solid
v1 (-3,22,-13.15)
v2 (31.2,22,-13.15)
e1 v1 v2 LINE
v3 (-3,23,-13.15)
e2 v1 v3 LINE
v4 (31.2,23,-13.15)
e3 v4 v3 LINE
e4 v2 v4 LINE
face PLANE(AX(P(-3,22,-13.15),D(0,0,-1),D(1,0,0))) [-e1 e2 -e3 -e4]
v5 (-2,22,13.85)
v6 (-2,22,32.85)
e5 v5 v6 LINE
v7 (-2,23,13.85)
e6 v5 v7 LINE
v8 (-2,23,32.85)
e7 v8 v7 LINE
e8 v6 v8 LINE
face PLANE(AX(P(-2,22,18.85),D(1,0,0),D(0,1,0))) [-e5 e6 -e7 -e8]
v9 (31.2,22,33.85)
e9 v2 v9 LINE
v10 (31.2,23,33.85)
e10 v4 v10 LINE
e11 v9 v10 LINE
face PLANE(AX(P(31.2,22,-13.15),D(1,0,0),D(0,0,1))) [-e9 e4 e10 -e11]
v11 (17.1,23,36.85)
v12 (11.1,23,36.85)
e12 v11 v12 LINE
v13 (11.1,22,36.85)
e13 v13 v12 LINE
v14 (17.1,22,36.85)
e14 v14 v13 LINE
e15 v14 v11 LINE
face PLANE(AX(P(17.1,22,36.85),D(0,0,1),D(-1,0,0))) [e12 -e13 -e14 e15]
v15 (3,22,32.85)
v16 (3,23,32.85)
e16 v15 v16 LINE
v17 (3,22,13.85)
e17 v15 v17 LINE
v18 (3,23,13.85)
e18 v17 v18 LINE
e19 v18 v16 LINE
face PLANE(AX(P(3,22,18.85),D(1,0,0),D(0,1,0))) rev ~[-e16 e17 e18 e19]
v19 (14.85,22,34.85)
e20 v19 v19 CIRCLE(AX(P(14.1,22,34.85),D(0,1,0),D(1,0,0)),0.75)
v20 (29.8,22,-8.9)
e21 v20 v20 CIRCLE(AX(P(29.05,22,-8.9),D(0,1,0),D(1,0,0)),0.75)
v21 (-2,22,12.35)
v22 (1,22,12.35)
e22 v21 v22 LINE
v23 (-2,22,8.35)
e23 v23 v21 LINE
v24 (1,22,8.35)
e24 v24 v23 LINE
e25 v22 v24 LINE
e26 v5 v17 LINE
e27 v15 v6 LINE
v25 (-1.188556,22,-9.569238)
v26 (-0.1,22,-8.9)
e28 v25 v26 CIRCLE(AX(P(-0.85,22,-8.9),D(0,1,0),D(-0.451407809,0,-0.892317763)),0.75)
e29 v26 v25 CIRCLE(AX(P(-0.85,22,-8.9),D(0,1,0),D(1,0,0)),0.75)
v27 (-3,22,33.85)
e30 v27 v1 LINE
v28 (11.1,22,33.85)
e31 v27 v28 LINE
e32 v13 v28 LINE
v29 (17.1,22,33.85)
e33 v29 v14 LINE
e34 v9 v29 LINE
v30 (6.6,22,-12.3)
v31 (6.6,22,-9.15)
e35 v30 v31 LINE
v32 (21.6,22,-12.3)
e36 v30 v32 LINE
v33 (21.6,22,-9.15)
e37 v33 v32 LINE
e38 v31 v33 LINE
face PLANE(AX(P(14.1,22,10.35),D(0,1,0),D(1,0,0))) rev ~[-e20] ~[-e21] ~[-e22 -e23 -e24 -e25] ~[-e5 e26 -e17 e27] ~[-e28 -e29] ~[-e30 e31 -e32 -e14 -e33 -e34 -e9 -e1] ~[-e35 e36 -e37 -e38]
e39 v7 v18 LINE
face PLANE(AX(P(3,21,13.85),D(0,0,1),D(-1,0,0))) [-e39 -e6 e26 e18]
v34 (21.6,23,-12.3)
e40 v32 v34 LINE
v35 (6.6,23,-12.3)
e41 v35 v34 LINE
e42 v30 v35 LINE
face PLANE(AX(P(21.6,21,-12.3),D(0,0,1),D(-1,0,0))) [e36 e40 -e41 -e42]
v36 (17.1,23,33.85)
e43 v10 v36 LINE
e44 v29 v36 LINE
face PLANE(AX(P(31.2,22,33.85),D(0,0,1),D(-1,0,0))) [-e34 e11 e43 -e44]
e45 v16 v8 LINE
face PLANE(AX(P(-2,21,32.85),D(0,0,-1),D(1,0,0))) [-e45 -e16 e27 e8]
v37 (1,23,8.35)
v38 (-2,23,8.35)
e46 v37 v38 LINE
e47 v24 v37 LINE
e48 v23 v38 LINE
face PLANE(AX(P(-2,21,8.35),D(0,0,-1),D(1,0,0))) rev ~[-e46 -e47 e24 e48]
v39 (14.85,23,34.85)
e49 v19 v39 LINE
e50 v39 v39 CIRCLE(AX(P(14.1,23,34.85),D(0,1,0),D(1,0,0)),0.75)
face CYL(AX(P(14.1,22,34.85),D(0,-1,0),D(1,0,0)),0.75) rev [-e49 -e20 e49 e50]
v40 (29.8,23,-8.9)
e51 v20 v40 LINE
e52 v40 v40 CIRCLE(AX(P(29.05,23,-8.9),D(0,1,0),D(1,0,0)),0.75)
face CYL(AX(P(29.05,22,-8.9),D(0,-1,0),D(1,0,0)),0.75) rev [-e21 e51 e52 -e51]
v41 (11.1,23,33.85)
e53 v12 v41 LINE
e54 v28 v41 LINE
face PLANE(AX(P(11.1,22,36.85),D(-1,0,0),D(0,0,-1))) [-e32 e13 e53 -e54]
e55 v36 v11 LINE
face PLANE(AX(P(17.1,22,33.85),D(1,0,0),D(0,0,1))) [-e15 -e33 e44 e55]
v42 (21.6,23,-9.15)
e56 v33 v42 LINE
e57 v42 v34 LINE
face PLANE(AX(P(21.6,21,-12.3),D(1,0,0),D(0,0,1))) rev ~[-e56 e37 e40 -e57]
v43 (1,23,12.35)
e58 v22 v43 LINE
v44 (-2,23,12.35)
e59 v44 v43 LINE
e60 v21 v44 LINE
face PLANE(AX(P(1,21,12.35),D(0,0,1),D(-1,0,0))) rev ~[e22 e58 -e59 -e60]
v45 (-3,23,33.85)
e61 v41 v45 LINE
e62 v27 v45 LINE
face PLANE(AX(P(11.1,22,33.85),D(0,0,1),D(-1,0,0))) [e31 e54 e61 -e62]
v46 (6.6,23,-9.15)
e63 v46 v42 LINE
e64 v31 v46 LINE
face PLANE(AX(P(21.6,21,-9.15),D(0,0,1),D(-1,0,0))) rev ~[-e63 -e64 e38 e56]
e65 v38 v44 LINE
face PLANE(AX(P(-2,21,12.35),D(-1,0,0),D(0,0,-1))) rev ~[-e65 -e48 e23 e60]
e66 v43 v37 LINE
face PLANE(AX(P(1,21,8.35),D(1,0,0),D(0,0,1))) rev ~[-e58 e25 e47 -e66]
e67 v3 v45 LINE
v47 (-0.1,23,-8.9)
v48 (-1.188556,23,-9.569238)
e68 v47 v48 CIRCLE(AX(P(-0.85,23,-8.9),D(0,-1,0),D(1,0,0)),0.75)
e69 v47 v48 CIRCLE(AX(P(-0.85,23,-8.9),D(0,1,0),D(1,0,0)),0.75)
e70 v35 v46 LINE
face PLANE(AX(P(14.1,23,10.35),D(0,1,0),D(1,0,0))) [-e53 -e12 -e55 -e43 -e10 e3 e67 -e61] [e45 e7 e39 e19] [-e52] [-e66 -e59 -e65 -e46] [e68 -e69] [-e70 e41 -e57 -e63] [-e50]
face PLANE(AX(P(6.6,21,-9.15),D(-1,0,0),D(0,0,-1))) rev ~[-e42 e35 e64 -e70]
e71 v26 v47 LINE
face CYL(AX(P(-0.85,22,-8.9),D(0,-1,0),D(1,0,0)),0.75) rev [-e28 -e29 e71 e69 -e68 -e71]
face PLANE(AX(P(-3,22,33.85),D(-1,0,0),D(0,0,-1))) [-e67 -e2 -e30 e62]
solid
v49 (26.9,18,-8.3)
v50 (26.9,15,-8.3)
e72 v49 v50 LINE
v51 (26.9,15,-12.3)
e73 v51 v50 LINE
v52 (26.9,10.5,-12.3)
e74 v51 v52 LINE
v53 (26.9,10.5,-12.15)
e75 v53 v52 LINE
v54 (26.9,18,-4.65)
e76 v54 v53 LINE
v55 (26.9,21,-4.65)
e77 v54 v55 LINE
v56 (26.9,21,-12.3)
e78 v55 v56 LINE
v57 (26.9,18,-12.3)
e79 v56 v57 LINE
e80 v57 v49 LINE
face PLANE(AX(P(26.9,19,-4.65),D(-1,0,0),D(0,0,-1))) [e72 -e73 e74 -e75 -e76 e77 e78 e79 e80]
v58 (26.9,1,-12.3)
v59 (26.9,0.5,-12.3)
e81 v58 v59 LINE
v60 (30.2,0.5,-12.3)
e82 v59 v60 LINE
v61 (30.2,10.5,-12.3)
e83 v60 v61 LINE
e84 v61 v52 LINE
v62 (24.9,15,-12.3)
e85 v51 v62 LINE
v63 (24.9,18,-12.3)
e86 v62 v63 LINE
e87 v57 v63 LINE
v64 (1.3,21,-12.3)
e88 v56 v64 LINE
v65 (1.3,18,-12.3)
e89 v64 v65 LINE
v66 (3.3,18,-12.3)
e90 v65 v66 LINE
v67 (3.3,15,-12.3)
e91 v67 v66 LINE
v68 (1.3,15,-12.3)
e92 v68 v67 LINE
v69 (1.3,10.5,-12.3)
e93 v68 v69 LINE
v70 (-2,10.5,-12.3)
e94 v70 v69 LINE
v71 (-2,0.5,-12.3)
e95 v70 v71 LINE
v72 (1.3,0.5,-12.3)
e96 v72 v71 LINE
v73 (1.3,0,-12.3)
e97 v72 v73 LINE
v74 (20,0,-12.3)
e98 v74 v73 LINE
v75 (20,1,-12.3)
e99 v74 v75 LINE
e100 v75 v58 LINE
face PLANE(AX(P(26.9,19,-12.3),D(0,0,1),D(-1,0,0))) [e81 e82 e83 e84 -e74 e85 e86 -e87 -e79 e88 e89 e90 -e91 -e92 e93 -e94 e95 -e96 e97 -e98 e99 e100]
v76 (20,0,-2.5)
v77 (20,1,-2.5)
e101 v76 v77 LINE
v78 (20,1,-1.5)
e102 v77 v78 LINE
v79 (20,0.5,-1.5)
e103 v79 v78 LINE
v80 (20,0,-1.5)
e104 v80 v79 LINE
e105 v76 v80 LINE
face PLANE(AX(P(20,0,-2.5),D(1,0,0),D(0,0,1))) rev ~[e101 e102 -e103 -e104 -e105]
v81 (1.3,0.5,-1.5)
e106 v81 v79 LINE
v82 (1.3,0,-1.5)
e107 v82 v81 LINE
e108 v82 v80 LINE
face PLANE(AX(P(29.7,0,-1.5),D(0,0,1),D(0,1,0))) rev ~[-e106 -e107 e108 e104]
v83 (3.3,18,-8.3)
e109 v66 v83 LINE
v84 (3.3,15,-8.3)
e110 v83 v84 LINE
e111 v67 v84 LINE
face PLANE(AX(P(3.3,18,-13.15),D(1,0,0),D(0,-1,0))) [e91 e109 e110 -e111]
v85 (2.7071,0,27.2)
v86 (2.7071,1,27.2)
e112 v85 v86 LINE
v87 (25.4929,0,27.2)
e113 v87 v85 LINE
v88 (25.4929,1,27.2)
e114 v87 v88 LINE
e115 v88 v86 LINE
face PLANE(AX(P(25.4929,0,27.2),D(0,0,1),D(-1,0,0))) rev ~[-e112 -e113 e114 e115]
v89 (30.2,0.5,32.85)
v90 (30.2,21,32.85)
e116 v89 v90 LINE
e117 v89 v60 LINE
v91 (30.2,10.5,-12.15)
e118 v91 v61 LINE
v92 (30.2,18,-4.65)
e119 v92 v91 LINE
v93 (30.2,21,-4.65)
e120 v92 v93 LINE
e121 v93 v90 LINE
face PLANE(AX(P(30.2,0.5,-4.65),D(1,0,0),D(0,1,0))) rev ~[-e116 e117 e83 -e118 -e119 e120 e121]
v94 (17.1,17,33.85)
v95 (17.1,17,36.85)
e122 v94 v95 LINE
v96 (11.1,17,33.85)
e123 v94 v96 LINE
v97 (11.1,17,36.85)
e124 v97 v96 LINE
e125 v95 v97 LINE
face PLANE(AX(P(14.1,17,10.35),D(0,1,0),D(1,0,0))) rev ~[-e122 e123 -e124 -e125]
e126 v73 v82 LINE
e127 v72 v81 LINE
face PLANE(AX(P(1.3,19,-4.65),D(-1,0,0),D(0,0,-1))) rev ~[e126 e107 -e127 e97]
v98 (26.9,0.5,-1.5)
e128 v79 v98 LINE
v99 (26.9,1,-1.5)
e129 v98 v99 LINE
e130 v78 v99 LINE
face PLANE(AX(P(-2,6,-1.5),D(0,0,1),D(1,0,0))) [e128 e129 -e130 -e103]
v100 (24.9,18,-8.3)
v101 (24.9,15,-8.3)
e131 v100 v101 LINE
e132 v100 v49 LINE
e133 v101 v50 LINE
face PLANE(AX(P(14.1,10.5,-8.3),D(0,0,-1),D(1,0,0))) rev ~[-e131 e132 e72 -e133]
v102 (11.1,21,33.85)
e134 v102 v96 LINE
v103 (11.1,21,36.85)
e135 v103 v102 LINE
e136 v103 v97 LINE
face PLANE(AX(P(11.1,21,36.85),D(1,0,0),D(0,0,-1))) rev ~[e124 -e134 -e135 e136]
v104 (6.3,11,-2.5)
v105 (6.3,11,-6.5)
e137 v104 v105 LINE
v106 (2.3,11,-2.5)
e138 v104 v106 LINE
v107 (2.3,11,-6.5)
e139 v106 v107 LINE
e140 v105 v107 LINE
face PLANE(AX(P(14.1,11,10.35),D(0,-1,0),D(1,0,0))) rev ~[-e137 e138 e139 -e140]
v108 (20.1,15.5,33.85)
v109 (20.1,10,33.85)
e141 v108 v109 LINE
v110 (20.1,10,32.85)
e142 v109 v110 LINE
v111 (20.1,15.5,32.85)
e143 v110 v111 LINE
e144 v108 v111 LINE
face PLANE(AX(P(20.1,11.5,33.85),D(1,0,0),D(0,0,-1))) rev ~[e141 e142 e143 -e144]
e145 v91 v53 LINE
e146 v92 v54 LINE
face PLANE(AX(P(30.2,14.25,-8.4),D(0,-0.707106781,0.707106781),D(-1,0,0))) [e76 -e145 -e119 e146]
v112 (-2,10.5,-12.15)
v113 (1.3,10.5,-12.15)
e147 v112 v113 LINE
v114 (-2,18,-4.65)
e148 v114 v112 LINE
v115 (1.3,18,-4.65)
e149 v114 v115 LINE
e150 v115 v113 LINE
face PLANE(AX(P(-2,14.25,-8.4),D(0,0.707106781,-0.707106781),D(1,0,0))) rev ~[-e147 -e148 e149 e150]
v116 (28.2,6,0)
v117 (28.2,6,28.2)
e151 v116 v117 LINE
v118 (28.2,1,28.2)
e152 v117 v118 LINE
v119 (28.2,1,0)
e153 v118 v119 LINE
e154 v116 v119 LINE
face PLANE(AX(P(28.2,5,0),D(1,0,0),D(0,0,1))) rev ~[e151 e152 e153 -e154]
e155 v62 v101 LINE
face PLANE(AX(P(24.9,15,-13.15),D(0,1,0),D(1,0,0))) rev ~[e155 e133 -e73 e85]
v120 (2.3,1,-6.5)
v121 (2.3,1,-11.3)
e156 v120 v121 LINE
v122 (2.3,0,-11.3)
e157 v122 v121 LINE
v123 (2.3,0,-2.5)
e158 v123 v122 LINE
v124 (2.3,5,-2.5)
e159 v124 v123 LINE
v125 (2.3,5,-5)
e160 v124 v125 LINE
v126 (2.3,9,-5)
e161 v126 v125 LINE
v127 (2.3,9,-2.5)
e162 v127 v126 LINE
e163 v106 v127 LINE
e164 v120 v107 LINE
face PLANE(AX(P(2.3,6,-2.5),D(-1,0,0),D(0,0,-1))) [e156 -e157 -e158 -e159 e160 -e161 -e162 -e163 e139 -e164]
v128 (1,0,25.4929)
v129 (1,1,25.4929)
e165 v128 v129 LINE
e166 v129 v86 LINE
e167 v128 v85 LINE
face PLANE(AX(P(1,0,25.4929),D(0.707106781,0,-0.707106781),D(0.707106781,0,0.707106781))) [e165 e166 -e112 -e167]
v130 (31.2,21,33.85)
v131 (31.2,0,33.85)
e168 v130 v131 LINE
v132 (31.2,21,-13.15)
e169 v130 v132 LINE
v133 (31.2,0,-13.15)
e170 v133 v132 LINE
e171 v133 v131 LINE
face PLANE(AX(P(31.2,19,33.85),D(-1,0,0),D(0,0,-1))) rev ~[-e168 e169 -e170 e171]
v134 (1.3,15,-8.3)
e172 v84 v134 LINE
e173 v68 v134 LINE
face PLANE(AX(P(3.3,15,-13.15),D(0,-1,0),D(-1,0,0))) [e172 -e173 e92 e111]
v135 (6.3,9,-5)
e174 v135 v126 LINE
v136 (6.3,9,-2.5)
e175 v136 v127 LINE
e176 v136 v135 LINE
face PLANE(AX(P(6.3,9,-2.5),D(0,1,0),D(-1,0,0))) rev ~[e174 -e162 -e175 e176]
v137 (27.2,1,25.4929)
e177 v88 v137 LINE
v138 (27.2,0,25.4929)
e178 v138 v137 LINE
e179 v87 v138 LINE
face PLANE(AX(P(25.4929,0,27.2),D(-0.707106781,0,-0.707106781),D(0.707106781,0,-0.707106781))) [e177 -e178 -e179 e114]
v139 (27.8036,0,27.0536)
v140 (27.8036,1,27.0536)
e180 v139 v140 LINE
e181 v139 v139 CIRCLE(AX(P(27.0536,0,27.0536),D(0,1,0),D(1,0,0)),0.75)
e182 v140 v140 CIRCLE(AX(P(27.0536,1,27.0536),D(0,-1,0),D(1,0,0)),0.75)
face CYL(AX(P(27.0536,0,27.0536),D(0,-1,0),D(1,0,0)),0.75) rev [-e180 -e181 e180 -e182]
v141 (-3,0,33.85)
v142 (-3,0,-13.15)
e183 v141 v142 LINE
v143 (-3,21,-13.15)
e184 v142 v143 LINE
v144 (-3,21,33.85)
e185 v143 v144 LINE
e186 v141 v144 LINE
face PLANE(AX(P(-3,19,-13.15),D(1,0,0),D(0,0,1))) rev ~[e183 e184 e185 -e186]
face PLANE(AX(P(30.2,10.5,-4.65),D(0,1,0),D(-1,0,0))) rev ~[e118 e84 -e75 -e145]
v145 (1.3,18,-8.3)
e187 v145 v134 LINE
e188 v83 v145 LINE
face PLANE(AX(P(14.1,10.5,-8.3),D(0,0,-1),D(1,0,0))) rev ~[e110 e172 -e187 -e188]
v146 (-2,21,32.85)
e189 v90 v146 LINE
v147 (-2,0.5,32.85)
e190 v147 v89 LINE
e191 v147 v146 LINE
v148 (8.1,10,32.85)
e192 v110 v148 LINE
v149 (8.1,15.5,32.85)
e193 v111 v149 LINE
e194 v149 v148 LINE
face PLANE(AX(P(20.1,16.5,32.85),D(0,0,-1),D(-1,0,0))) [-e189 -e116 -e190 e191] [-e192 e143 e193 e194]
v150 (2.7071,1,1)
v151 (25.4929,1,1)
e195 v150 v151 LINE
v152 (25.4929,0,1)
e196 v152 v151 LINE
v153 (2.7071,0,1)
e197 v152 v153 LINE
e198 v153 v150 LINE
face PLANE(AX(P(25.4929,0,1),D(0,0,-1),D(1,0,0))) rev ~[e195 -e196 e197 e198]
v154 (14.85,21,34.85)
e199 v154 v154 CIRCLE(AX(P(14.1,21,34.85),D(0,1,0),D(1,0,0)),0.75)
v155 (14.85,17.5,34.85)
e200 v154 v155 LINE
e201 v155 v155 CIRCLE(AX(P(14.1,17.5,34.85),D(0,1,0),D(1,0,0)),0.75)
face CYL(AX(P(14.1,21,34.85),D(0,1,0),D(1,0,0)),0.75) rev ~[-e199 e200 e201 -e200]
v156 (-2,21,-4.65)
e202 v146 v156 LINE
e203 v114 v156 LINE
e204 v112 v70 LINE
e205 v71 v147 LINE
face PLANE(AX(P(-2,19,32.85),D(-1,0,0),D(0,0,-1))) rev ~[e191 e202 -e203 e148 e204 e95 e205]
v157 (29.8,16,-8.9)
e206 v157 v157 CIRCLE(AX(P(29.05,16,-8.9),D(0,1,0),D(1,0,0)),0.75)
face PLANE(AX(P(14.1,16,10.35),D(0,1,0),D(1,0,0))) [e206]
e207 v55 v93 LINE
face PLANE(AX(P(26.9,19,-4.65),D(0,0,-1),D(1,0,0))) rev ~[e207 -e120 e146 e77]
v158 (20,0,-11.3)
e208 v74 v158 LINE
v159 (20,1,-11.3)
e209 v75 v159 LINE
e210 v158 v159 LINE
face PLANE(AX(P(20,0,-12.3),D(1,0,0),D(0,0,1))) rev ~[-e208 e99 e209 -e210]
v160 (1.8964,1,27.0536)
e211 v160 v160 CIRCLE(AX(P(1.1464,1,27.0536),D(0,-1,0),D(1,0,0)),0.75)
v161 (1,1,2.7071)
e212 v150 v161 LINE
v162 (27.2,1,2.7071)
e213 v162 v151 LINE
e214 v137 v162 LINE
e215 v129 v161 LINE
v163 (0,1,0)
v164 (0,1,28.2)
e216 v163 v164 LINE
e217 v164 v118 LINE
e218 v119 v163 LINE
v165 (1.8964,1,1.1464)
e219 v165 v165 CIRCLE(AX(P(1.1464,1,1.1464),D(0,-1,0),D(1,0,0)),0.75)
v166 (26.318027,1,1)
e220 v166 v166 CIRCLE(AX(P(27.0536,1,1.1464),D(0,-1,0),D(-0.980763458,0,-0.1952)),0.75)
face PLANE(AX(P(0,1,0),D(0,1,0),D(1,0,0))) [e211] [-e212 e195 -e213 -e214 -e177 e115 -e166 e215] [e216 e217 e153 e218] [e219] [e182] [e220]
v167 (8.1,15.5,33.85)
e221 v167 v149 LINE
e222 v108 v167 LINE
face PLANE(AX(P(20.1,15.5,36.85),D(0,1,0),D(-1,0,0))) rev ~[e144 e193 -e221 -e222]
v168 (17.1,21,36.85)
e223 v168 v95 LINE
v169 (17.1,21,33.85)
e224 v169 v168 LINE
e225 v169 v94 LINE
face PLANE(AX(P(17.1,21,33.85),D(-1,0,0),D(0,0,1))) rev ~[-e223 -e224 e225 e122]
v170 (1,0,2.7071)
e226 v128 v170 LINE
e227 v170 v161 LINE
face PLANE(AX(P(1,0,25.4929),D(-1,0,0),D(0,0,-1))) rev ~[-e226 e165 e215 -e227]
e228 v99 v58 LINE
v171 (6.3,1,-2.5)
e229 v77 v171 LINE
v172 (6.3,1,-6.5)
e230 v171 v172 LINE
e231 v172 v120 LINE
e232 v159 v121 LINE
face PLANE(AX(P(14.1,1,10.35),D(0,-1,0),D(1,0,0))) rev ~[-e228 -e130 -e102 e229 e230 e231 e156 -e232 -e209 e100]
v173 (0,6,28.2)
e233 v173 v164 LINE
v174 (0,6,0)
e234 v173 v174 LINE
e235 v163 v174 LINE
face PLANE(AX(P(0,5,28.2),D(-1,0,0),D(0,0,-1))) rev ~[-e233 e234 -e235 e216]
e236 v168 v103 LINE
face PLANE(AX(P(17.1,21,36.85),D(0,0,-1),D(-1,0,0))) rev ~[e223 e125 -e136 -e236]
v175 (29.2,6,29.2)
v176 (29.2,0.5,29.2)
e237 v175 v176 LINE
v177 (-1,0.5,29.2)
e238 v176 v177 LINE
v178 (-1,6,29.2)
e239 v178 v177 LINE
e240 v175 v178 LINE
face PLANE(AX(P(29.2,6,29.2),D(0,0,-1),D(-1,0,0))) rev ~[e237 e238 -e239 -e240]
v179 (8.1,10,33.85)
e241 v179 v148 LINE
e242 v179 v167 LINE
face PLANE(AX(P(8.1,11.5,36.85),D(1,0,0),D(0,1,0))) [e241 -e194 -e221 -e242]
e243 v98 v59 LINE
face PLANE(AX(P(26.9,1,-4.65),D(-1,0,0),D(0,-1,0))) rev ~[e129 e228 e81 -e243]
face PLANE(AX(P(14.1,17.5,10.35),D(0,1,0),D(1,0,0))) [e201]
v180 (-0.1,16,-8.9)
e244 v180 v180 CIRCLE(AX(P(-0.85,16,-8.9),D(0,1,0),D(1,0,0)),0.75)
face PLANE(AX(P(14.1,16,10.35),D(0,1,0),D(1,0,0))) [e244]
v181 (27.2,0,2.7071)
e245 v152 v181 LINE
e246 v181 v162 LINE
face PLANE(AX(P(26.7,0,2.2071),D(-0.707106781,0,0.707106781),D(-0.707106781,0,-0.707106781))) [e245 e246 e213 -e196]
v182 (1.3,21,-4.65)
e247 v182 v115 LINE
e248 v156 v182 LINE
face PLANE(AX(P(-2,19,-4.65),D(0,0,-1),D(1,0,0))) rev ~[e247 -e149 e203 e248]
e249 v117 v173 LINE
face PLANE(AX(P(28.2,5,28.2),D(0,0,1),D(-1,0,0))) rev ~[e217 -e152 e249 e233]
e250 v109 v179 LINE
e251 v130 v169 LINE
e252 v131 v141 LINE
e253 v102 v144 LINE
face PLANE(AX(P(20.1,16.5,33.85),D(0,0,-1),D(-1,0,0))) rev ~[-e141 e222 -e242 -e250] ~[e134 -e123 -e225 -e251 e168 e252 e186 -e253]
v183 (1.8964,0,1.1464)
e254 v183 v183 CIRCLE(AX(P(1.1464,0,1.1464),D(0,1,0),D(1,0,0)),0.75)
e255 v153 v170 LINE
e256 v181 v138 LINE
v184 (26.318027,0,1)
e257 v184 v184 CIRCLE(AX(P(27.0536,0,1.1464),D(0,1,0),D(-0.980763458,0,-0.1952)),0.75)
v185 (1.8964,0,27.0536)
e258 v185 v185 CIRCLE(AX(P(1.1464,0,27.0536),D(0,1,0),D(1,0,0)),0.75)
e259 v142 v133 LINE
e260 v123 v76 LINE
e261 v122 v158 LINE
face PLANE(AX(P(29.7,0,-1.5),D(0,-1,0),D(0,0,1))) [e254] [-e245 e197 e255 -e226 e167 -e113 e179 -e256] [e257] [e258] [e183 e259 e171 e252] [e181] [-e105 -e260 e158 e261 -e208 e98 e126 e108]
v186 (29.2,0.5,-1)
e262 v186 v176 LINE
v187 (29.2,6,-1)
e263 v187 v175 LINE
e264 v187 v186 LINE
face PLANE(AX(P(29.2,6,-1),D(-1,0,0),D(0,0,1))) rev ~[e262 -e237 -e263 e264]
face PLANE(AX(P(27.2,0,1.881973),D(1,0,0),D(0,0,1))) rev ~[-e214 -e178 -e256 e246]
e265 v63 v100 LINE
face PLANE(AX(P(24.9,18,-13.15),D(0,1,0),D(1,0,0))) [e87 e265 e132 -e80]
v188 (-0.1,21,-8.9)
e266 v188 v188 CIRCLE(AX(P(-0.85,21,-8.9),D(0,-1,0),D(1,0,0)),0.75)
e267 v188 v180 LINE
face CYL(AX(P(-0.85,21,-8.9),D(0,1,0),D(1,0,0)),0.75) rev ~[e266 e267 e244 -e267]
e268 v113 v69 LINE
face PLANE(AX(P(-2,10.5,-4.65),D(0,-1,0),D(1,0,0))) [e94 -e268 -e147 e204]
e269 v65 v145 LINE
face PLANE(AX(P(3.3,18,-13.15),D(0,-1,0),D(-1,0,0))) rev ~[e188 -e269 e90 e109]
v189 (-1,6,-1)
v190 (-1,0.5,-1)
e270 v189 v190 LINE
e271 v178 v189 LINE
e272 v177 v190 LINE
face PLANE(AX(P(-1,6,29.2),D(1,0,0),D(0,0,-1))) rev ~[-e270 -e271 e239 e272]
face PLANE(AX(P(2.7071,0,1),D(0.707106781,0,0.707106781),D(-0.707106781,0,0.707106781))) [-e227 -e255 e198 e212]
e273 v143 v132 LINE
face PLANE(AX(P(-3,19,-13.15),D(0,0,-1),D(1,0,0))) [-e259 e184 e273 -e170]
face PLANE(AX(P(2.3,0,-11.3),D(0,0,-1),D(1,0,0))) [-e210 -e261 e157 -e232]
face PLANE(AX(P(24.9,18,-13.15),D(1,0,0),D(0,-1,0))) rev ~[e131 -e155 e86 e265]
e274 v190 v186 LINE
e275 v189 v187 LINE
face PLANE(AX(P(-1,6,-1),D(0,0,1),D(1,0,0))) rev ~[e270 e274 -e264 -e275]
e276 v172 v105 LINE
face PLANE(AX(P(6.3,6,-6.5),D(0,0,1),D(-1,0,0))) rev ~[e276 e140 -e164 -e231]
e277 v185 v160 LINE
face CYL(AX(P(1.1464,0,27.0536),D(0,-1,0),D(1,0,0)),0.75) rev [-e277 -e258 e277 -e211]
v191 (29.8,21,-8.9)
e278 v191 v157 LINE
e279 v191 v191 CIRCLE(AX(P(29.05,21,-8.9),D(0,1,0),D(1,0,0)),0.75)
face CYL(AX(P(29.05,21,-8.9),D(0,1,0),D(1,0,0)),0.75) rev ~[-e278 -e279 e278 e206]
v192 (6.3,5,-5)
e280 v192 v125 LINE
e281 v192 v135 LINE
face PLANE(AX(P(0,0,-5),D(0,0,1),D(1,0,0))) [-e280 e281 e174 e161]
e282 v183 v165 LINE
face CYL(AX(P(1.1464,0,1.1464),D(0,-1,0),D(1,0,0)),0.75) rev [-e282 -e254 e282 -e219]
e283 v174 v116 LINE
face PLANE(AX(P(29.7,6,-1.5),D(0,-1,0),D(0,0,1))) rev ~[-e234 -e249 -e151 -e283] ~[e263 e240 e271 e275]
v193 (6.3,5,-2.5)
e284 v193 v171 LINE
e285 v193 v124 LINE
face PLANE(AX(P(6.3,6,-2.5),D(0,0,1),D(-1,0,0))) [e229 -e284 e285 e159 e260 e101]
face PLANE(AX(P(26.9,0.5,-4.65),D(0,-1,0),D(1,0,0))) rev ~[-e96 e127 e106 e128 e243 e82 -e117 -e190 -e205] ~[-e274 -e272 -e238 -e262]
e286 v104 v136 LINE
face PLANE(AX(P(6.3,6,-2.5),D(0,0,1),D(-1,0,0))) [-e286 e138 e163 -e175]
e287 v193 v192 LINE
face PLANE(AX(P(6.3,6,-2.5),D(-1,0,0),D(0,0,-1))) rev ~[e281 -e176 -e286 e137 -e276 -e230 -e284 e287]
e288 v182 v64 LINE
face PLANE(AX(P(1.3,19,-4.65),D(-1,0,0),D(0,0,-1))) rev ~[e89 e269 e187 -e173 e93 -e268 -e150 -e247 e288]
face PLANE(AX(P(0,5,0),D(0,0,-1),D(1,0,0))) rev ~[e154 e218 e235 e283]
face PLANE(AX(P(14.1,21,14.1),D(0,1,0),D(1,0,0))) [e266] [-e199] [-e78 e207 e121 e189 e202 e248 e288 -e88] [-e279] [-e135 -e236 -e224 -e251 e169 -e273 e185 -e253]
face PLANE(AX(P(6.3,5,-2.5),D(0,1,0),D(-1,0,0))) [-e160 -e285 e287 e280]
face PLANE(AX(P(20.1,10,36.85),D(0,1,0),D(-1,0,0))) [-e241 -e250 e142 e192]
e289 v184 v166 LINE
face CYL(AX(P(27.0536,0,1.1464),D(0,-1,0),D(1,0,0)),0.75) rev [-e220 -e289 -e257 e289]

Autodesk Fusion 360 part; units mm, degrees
sketch "Sketch1" plane through (0, 0, 0) normal (0, 1, 0) x (1, 0, 0)
  line L0 (0, 0) -> (28.2, 0)
  line L1 (28.2, 0) -> (28.2, -28.2)
  line L2 (28.2, -28.2) -> (0, -28.2)
  line L3 (0, -28.2) -> (0, 0)
  line L4 (29.7, -29.7) -> (-1.5, -29.7)
  line L5 (-1.5, -29.7) -> (-1.5, 1.5)
  line L6 (-1.5, 1.5) -> (29.7, 1.5)
  line L7 (29.7, 1.5) -> (29.7, -29.7)
  line L8 (26.7, -1.5) -> (26.3464, -1.8536) construction
  line L9 (26.3464, -1.8536) -> (26.7, -2.2071) construction
  line L10 (26.7, -2.2071) -> (25.9929, -1.5)
  line L11 (26.7, -1.5) -> (27.0536, -1.1464) construction
  circle A0 centre (27.0536, -1.1464) radius 0.75
  line L12 (26.7, -26.7) -> (1.5, -1.5) construction
  line L13 (1.5, -26.7) -> (26.7, -1.5) construction
  circle A1 centre (1.1464, -1.1464) radius 0.75
  circle A2 centre (1.1464, -27.0536) radius 0.75
  circle A3 centre (27.0536, -27.0536) radius 0.75
  line L14 (27.2, -27.2) -> (1, -27.2)
  line L15 (1, -27.2) -> (1, -1)
  line L16 (1, -1) -> (27.2, -1)
  line L17 (27.2, -1) -> (27.2, -27.2)
  line L18 (27.2, -2.7071) -> (25.4929, -1)
  line L19 (2.7071, -1) -> (1, -2.7071)
  line L20 (1, -25.4929) -> (2.7071, -27.2)
  line L21 (25.4929, -27.2) -> (27.2, -25.4929)
  dimension "d1" = 28.2
  dimension "d2" = 28.2
  dimension "d5" = 1.5
  dimension "d12" = 1.5
  dimension "d15" = 1
  dimension "d17" = 360
extrude "Extrude1" add sketch "Sketch1" along normal blind 1 contours L0 L1 L2 L3 | L4 L5 L6 L7 | A3 L14 L17 L21 | A1 L15 L16 L19 | A2 L14 L15 L20 makes body 1
extrude "Extrude2" add sketch "Sketch1" along normal blind 5 contours L4 L5 L6 L7 bodies 1
extrude "Extrude3" add sketch "Sketch1" along normal blind 1 contours L10 A0 L16 L17 L18 bodies 1
extrude "Extrude4" add 1 faces at (-1, 5, 9.4) along direction (0, 1, 0) blind 1 on bodies 1 bodies 1
ref_plane "WorkPlane1" through (14.1, 6, 14.1) normal (0, 1, 0) x (0, 0, 1)
sketch "Sketch2" plane through (14.1, 6, 14.1) normal (0, 1, 0) x (1, 0, 0)
  line L0 (15.6, -15.6) -> (-15.6, -15.6)
  line L1 (15.6, -15.6) -> (15.6, -26) construction
  line L2 (15.6, -18.25) -> (-15.6, -18.25)
  line L3 (-15.6, -18.25) -> (-15.6, 18.25)
  line L4 (-15.6, 18.25) -> (15.6, 18.25)
  line L5 (15.6, 18.25) -> (15.6, -18.25)
  line L6 (15.6, -18.25) -> (-15.6, 18.25) construction
  line L7 (-15.6, -18.25) -> (15.6, 18.25) construction
  line L8 (16.1, -18.75) -> (-16.1, -18.75)
  line L9 (-16.1, -18.75) -> (-16.1, 18.75)
  line L10 (-16.1, 18.75) -> (16.1, 18.75)
  line L11 (16.1, 18.75) -> (16.1, -18.75)
  line L12 (17.1, -19.75) -> (-17.1, -19.75)
  line L13 (-17.1, -19.75) -> (-17.1, 19.75)
  line L14 (-17.1, 19.75) -> (17.1, 19.75)
  line L15 (17.1, 19.75) -> (17.1, -19.75)
  line L16 (-12.8, 25.4) -> (-12.8, -15.6)
  line L17 (-12.8, -15.6) -> (12.8, -15.6)
  line L18 (12.8, -15.6) -> (12.8, 25.4)
  line L19 (17.1, 19.75) -> (-17.1, 19.75)
  line L20 (-17.1, 19.75) -> (-17.1, 27.25)
  line L21 (-17.1, 27.25) -> (17.1, 27.25)
  line L22 (17.1, 27.25) -> (17.1, 19.75)
  line L23 (-12.8, 25.4) -> (12.8, 25.4)
  line L24 (12.8, 25.4) -> (12.8, 26.4)
  line L25 (12.8, 26.4) -> (-12.8, 26.4)
  line L26 (-12.8, 26.4) -> (-12.8, 25.4)
  dimension "d27" = 31.2
  dimension "d28" = 36.5
  dimension "d29" = 0.5
  dimension "d30" = 1.5
  dimension "d33" = 41
  dimension "d34" = 25.6
  dimension "d35" = 7.5
  dimension "d36" = 1
extrude "Extrude5" add sketch "Sketch2" against normal blind 6 separate body contours L8 L9 L10 L11 L12 L13 L14 L15 L16 L18 L19 | L14 L16 L18 L19 L20 L21 L22 L24 L25 L26 makes body 2
extrude "Extrude6" add 1 faces at (-1.5667, 6, -10.0333) along direction (0, 1, 0) blind 13 on bodies 2 bodies 2
extrude "Extrude7" add 1 faces at (-1.5, 2, 19.3) along direction (-1, 0, 0) blind 1.5 on bodies 1 bodies 1 2
extrude "Extrude8" add 1 faces at (29.7, 4, 19.3) along direction (1, 0, 0) blind 1.5 on bodies 1 bodies 1
ref_plane "WorkPlane2" through (14.1, 0, 10.35) normal (0, -1, 0) x (-1, 0, 0)
sketch "Sketch3" plane through (14.1, 0, 10.35) normal (0, -1, 0) x (1, 0, 0)
  line L0 (-17.1, -23.5) -> (17.1, -23.5)
  line L1 (17.1, -23.5) -> (17.1, 23.5)
  line L2 (17.1, 23.5) -> (-17.1, 23.5)
  line L3 (-17.1, 23.5) -> (-17.1, -23.5)
  line L4 (-12.8, -22.65) -> (12.8, -22.65)
  line L5 (12.8, -22.65) -> (12.8, -11.85)
  line L6 (12.8, -11.85) -> (-12.8, -11.85)
  line L7 (-12.8, -11.85) -> (-12.8, -22.65)
  line L8 (12.8, -22.65) -> (-12.8, -22.65)
  line L9 (0, -22.65) -> (0, -11.85)
  line L10 (-11.8, -21.65) -> (11.8, -21.65)
  line L11 (11.8, -21.65) -> (11.8, -12.85)
  line L12 (11.8, -12.85) -> (-11.8, -12.85)
  line L13 (-11.8, -12.85) -> (-11.8, -21.65)
  line L14 (-16.1, 19.35) -> (16.1, 19.35)
  line L15 (16.1, 19.35) -> (16.1, -11.85)
  line L16 (16.1, -11.85) -> (-16.1, -11.85)
  line L17 (-16.1, -11.85) -> (-16.1, 19.35)
  line L18 (-11.8, -12.85) -> (-7.8, -12.85)
  line L19 (-7.8, -12.85) -> (-7.8, -16.85)
  line L20 (-7.8, -16.85) -> (-11.8, -16.85)
  line L21 (-11.8, -16.85) -> (-11.8, -12.85)
  line L22 (0, -21.65) -> (11.8, -12.85) construction
  line L23 (5.9, -17.25) -> (5.9, -21.65) construction
  line L24 (5.9, -21.65) -> (5.9, -22.65) construction
  line L25 (5.9, -22.65) -> (5.9, -11.85)
  dimension "d46" = 1
  dimension "d53" = 4
  dimension "d54" = 4
extrude "Extrude9" add sketch "Sketch3" against normal blind 0.5 contours L0 L1 L2 L3 | L4 L8 L9 L10 L25 | L4 L5 L6 L8 L10 L11 L12 L16 L25 | L9 L10 L12 L13 L19 L20 | L9 L10 L12 L25 | L6 L9 L12 L16 L25 | L10 L11 L12 L25 | L12 L13 L18 L19 L20 L21 bodies 1
extrude "Extrude10" add sketch "Sketch3" against normal blind 1 contours L9 L10 L12 L13 L19 L20 | L12 L13 L18 L19 L20 L21 bodies 1
extrude "Extrude11" add sketch "Sketch3" against normal blind 1 contours L4 L8 L9 L10 L25 | L4 L5 L6 L8 L10 L11 L12 L16 L25 | L9 L10 L12 L25 | L6 L9 L12 L16 L25 | L10 L11 L12 L25 bodies 1
extrude "Extrude12" add sketch "Sketch3" against normal blind 6 contours L12 L13 L18 L19 L20 L21 bodies 1
extrude "Extrude13" add 1 faces at (-1.2333, 19, -10.0333) along direction (0, 1, 0) blind 2 on bodies 1 bodies 1
ref_plane "WorkPlane3" through (14.1, 21, 10.35) normal (0, 1, 0) x (0, 0, 1)
sketch "Sketch4" plane through (14.1, 21, 10.35) normal (0, 1, 0) x (1, 0, 0)
  line L0 (17.1, -23.5) -> (-17.1, -23.5)
  line L1 (-17.1, -23.5) -> (-17.1, 23.5)
  line L2 (-17.1, 23.5) -> (17.1, 23.5)
  line L3 (17.1, 23.5) -> (17.1, -23.5)
  line L4 (-12.8, 15) -> (-17.1, 23.5)
  circle A0 centre (-14.95, 19.25) radius 0.75
  line L5 (16.1, 15) -> (16.1, -22.5)
  line L6 (0, 0) -> (0, -7)
  circle A1 centre (14.95, 19.25) radius 0.75
  line L7 (3, -26.5) -> (-3, -26.5)
  line L8 (-3, -26.5) -> (-3, -20.5)
  line L9 (-3, -20.5) -> (3, -20.5)
  line L10 (3, -20.5) -> (3, -26.5)
  line L11 (3, -26.5) -> (-3, -20.5) construction
  line L12 (-3, -26.5) -> (3, -20.5) construction
  line L13 (16.1, -22.5) -> (-16.1, -22.5) construction
  line L14 (0, -22.5) -> (0, -26.5) construction
  circle A2 centre (0, -24.5) radius 0.75
  line L15 (-17.1, -23.5) -> (-11.1, -23.5)
  line L16 (-11.1, -23.5) -> (-11.1, -8.5)
  line L17 (-11.1, -8.5) -> (-17.1, -8.5)
  line L18 (-17.1, -8.5) -> (-17.1, -23.5)
  line L19 (-16.1, -22.5) -> (-11.1, -22.5)
  line L20 (-11.1, -22.5) -> (-11.1, -8.5)
  line L21 (-11.1, -8.5) -> (-16.1, -8.5)
  line L22 (-16.1, -8.5) -> (-16.1, -22.5)
  line L23 (-7.5, 27.5) -> (7.5, 27.5)
  line L24 (7.5, 27.5) -> (7.5, 19.5)
  line L25 (7.5, 19.5) -> (-7.5, 19.5)
  line L26 (-7.5, 19.5) -> (-7.5, 27.5)
  line L27 (-7.5, 27.5) -> (7.5, 19.5) construction
  line L28 (7.5, 27.5) -> (-7.5, 19.5) construction
  line L29 (-21.1, 2) -> (-13.1, 2)
  line L30 (-13.1, 2) -> (-13.1, -2)
  line L31 (-13.1, -2) -> (-21.1, -2)
  line L32 (-21.1, -2) -> (-21.1, 2)
  line L33 (-21.1, 2) -> (-13.1, -2) construction
  line L34 (-13.1, 2) -> (-21.1, -2) construction
  line L35 (-16.1, 2) -> (-17.1, 2)
  line L36 (-17.1, 2) -> (-17.1, -2)
  line L37 (-17.1, -2) -> (-16.1, -2)
  line L38 (-16.1, -2) -> (-16.1, 2)
  line L39 (7.5, 22.65) -> (-7.5, 22.65)
  line L40 (-7.5, 22.65) -> (-7.5, 23.5)
  line L41 (-7.5, 23.5) -> (7.5, 23.5)
  line L42 (7.5, 23.5) -> (7.5, 22.65)
  dimension "d60" = 1.5
  dimension "d61" = 6
  dimension "d62" = 6
  dimension "d63" = 1.5
  dimension "d91" = 6
  dimension "d92" = 15
  dimension "d93" = 8
  dimension "d94" = 15
  dimension "d95" = 8
  dimension "d96" = 4
extrude "Extrude14" add sketch "Sketch4" against normal blind 4 contours L0 L7 L8 L10 | A2 bodies 1
extrude "Extrude15" cut sketch "Sketch4" against normal blind 3.5 contours A2 bodies 1
extrude "Extrude16" cut sketch "Sketch4" against normal blind 5 contours L4 A0 | L4 A0 | A1 bodies 1
extrude "Extrude17" add sketch "Sketch4" along normal blind 2 and the other way blind -1 separate body contours L0 L1 L2 L3 L8 L9 L10 L16 L17 L20 L21 L24 L25 L26 L29 L30 L31 L35 L37 L40 L42 | L0 L1 L15 L16 L17 L18 L19 L22 | L0 L8 L9 L10 | L0 L7 L8 L10 | L16 L17 L19 L20 L21 L22 | L1 L29 L31 L35 L36 L37 L38 | L29 L30 L31 L38 | L2 L24 L26 L39 L40 L41 L42 | L24 L25 L26 L39 makes body 3
extrude "Extrude18" add 1 faces at (4.9667, 6, -3.8333) along direction (0, 1, 0) blind 5 on bodies 1 bodies 1
extrude "Extrude19" cut sketch "Sketch3" against normal blind 1 contours L4 L8 L9 L10 L25 | L6 L9 L12 L16 L25 bodies 1
sketch "Sketch5" plane through (0, 0, -2.5) normal (0, 0, 1) x (1, 0, 0)
  line L0 (2.3, 0) -> (20, 0)
  line L1 (20, 0) -> (20, 1)
  line L2 (20, 1) -> (6.3, 1)
  line L3 (6.3, 1) -> (6.3, 11)
  line L4 (6.3, 11) -> (2.3, 11)
  line L5 (2.3, 11) -> (2.3, 0)
  line L6 (2.3, 11) -> (6.3, 11)
  line L7 (6.3, 11) -> (6.3, 9)
  line L8 (6.3, 9) -> (2.3, 9)
  line L9 (2.3, 9) -> (2.3, 11)
  line L10 (2.3, 9) -> (6.3, 9)
  line L11 (6.3, 9) -> (6.3, 5)
  line L12 (6.3, 5) -> (2.3, 5)
  line L13 (2.3, 5) -> (2.3, 9)
  dimension "d78" = 2
  dimension "d79" = 4
  dimension "d80" = 4
extrude "Extrude20" cut sketch "Sketch5" against normal blind 2.5 contours L3 L5 L8 L10 L11 L12 L13 bodies 1
ref_plane "WorkPlane4" through (14.1, 19, 36.85) normal (0, 0, 1) x (-1, 0, 0)
sketch "Sketch6" plane through (14.1, 19, 36.85) normal (0, 0, 1) x (1, 0, 0)
  line L0 (-3, -2) -> (3, -2)
  line L1 (3, -2) -> (3, 2)
  line L2 (3, 2) -> (-3, 2)
  line L3 (-3, 2) -> (-3, -2)
  line L4 (-3, -2) -> (-6, -2)
  line L5 (-6, -2) -> (6, -2)
  line L6 (-6, -2) -> (6, -2)
  line L7 (6, -2) -> (6, -2.5)
  line L8 (6, -2.5) -> (-6, -2.5)
  line L9 (-6, -2.5) -> (-6, -2)
  line L10 (-6, -2.5) -> (6, -2.5)
  line L11 (6, -2.5) -> (6, -7.5)
  line L12 (6, -7.5) -> (-6, -7.5)
  line L13 (-6, -7.5) -> (-6, -2.5)
  dimension "d84" = 3
  dimension "d99" = 12
  dimension "d100" = 0.5
  dimension "d101" = 5
  dimension "d102" = 12
extrude "Extrude22" cut sketch "Sketch4" along normal blind 5.438 contours L16 L17 L19 L20 L21 L22 | L29 L30 L31 L38 | L24 L25 L26 L39 bodies 3
extrude "Extrude23" cut sketch "Sketch6" against normal blind 4.467 contours L8 L10 L11 L12 L13 bodies 1
ref_plane "WorkPlane5" through (14.1, 6, 14.1) normal (0, 1, 0) x (0, 0, 1)
sketch "Sketch7" plane through (14.1, 6, 14.1) normal (0, 1, 0) x (1, 0, 0)
  line L0 (-14.1, 14.1) -> (14.1, 14.1)
  line L1 (14.1, 14.1) -> (14.1, -14.1)
  line L2 (14.1, -14.1) -> (-14.1, -14.1)
  line L3 (-14.1, -14.1) -> (-14.1, 14.1)
  line L4 (-16.1, 15.6) -> (16.1, 15.6)
  line L5 (16.1, 15.6) -> (16.1, -15.6)
  line L6 (16.1, -15.6) -> (-16.1, -15.6)
  line L7 (-16.1, -15.6) -> (-16.1, 15.6)
  line L8 (15.1, 15.1) -> (15.1, -15.1)
  line L9 (15.1, -15.1) -> (-15.1, -15.1)
  line L10 (-15.1, -15.1) -> (-15.1, 15.1)
  line L11 (-15.1, 15.1) -> (15.1, 15.1)
  dimension "d106" = 1
extrude "Extrude24" cut sketch "Sketch7" against normal blind 5.5 contours L4 L5 L6 L7 bodies 1
sketch "Sketch8" plane through (0, 0, -4.65) normal (0, 0, 1) x (1, 0, 0)
  line L0 (26.9, 0.5) -> (30.2, 0.5)
  line L1 (30.2, 0.5) -> (30.2, 21)
  line L2 (30.2, 21) -> (26.9, 21)
  line L3 (26.9, 21) -> (26.9, 1)
  line L4 (26.9, 1) -> (26.9, 0.5)
  line L5 (30.2, 21) -> (-2, 21)
  line L6 (-2, 21) -> (-2, 0)
  line L7 (-2, 0) -> (30.2, 0)
  line L8 (30.2, 0) -> (30.2, 21)
  line L9 (14.1, 21) -> (14.1, 18)
  line L10 (26.9, 0.5) -> (30.2, 0.5)
  line L11 (30.2, 0.5) -> (30.2, 10.5)
  line L12 (30.2, 10.5) -> (26.9, 10.5)
  line L13 (26.9, 10.5) -> (26.9, 0.5)
  line L14 (-2, 10.5) -> (1.3, 10.5)
  line L15 (1.3, 10.5) -> (1.3, 0.5)
  line L16 (1.3, 0.5) -> (-2, 0.5)
  line L17 (-2, 0.5) -> (-2, 10.5)
extrude "Extrude25" cut sketch "Sketch8" against normal blind 7.65 contours L0 L1 L3 L4 L8 L10 L11 L12 L13 | L6 L14 L15 L16 L17 bodies 1
chamfer "Chamfer1" distance 7.5 angle 45 1 edges at (28.55, 10.5, -4.65) on bodies 1
chamfer "Chamfer2" distance 7.5 angle 45 1 edges at (-0.35, 10.5, -4.65) on bodies 1
extrude "Extrude26" cut 1 faces at (16.1, 11.5, 33.5167) along direction (0, -1, 0) blind 1.5 on bodies 1 bodies 1
extrude "Extrude27" add 1 faces at (16.1, 16.5, 33.5167) along direction (0, -1, 0) blind 1 on bodies 1 bodies 1
extrude "Extrude28" cut 1 faces at (1.3333, 22.3333, 18.85) along direction (0, 0, -1) blind 5 on bodies 3 bodies 3
ref_plane "WorkPlane6" through (14.1, 10.5, -13.15) normal (0, 0, -1) x (1, 0, 0)
sketch "Sketch9" plane through (14.1, 10.5, -13.15) normal (0, 0, -1) x (1, 0, 0)
  line L0 (17.1, -10.5) -> (-17.1, -10.5)
  line L1 (-17.1, -10.5) -> (-17.1, 10.5)
  line L2 (-17.1, 10.5) -> (17.1, 10.5)
  line L3 (17.1, 10.5) -> (17.1, -10.5)
  line L4 (17.1, -10.5) -> (12.8, -10.5)
  line L5 (12.8, -10.5) -> (12.8, 10.5)
  line L6 (12.8, 10.5) -> (17.1, 10.5)
  line L7 (17.1, 10.5) -> (17.1, -10.5)
  line L8 (-17.1, -10.5) -> (-12.8, -10.5)
  line L9 (-12.8, -10.5) -> (-12.8, 10.5)
  line L10 (-12.8, 10.5) -> (-17.1, 10.5)
  line L11 (-17.1, 10.5) -> (-17.1, -10.5)
  line L12 (12.8, -10.5) -> (10.8, -10.5)
  line L13 (10.8, -10.5) -> (10.8, -4.5)
  line L14 (10.8, -4.5) -> (12.8, -4.5)
  line L15 (12.8, -4.5) -> (12.8, -10.5)
  line L16 (12.8, -4.5) -> (10.8, -4.5)
  line L17 (10.8, -4.5) -> (10.8, -7.5)
  line L18 (10.8, -7.5) -> (12.8, -7.5)
  line L19 (12.8, -7.5) -> (12.8, -4.5)
  line L20 (6, 0.5) -> (-6, 0.5)
  line L21 (0, 0) -> (0, -3.5099)
  line L22 (-10.8, -7.5) -> (-12.8, -7.5)
  line L23 (-10.8, -10.5) -> (-10.8, -4.5)
  line L24 (-10.8, -4.5) -> (-12.8, -4.5)
  line L25 (-12.8, -10.5) -> (-12.8, 10.5)
  dimension "d120" = 4.3
  dimension "d121" = 4.3
  dimension "d122" = 6
  dimension "d123" = 2
  dimension "d124" = 3
extrude "Extrude29" add sketch "Sketch9" against normal blind 4.85 contours L5 L13 L14 L15 L16 L17 L18 L19 | L9 L22 L23 L24 L25 bodies 1
equation "d125 = -4 mm - 0.85 mm"
